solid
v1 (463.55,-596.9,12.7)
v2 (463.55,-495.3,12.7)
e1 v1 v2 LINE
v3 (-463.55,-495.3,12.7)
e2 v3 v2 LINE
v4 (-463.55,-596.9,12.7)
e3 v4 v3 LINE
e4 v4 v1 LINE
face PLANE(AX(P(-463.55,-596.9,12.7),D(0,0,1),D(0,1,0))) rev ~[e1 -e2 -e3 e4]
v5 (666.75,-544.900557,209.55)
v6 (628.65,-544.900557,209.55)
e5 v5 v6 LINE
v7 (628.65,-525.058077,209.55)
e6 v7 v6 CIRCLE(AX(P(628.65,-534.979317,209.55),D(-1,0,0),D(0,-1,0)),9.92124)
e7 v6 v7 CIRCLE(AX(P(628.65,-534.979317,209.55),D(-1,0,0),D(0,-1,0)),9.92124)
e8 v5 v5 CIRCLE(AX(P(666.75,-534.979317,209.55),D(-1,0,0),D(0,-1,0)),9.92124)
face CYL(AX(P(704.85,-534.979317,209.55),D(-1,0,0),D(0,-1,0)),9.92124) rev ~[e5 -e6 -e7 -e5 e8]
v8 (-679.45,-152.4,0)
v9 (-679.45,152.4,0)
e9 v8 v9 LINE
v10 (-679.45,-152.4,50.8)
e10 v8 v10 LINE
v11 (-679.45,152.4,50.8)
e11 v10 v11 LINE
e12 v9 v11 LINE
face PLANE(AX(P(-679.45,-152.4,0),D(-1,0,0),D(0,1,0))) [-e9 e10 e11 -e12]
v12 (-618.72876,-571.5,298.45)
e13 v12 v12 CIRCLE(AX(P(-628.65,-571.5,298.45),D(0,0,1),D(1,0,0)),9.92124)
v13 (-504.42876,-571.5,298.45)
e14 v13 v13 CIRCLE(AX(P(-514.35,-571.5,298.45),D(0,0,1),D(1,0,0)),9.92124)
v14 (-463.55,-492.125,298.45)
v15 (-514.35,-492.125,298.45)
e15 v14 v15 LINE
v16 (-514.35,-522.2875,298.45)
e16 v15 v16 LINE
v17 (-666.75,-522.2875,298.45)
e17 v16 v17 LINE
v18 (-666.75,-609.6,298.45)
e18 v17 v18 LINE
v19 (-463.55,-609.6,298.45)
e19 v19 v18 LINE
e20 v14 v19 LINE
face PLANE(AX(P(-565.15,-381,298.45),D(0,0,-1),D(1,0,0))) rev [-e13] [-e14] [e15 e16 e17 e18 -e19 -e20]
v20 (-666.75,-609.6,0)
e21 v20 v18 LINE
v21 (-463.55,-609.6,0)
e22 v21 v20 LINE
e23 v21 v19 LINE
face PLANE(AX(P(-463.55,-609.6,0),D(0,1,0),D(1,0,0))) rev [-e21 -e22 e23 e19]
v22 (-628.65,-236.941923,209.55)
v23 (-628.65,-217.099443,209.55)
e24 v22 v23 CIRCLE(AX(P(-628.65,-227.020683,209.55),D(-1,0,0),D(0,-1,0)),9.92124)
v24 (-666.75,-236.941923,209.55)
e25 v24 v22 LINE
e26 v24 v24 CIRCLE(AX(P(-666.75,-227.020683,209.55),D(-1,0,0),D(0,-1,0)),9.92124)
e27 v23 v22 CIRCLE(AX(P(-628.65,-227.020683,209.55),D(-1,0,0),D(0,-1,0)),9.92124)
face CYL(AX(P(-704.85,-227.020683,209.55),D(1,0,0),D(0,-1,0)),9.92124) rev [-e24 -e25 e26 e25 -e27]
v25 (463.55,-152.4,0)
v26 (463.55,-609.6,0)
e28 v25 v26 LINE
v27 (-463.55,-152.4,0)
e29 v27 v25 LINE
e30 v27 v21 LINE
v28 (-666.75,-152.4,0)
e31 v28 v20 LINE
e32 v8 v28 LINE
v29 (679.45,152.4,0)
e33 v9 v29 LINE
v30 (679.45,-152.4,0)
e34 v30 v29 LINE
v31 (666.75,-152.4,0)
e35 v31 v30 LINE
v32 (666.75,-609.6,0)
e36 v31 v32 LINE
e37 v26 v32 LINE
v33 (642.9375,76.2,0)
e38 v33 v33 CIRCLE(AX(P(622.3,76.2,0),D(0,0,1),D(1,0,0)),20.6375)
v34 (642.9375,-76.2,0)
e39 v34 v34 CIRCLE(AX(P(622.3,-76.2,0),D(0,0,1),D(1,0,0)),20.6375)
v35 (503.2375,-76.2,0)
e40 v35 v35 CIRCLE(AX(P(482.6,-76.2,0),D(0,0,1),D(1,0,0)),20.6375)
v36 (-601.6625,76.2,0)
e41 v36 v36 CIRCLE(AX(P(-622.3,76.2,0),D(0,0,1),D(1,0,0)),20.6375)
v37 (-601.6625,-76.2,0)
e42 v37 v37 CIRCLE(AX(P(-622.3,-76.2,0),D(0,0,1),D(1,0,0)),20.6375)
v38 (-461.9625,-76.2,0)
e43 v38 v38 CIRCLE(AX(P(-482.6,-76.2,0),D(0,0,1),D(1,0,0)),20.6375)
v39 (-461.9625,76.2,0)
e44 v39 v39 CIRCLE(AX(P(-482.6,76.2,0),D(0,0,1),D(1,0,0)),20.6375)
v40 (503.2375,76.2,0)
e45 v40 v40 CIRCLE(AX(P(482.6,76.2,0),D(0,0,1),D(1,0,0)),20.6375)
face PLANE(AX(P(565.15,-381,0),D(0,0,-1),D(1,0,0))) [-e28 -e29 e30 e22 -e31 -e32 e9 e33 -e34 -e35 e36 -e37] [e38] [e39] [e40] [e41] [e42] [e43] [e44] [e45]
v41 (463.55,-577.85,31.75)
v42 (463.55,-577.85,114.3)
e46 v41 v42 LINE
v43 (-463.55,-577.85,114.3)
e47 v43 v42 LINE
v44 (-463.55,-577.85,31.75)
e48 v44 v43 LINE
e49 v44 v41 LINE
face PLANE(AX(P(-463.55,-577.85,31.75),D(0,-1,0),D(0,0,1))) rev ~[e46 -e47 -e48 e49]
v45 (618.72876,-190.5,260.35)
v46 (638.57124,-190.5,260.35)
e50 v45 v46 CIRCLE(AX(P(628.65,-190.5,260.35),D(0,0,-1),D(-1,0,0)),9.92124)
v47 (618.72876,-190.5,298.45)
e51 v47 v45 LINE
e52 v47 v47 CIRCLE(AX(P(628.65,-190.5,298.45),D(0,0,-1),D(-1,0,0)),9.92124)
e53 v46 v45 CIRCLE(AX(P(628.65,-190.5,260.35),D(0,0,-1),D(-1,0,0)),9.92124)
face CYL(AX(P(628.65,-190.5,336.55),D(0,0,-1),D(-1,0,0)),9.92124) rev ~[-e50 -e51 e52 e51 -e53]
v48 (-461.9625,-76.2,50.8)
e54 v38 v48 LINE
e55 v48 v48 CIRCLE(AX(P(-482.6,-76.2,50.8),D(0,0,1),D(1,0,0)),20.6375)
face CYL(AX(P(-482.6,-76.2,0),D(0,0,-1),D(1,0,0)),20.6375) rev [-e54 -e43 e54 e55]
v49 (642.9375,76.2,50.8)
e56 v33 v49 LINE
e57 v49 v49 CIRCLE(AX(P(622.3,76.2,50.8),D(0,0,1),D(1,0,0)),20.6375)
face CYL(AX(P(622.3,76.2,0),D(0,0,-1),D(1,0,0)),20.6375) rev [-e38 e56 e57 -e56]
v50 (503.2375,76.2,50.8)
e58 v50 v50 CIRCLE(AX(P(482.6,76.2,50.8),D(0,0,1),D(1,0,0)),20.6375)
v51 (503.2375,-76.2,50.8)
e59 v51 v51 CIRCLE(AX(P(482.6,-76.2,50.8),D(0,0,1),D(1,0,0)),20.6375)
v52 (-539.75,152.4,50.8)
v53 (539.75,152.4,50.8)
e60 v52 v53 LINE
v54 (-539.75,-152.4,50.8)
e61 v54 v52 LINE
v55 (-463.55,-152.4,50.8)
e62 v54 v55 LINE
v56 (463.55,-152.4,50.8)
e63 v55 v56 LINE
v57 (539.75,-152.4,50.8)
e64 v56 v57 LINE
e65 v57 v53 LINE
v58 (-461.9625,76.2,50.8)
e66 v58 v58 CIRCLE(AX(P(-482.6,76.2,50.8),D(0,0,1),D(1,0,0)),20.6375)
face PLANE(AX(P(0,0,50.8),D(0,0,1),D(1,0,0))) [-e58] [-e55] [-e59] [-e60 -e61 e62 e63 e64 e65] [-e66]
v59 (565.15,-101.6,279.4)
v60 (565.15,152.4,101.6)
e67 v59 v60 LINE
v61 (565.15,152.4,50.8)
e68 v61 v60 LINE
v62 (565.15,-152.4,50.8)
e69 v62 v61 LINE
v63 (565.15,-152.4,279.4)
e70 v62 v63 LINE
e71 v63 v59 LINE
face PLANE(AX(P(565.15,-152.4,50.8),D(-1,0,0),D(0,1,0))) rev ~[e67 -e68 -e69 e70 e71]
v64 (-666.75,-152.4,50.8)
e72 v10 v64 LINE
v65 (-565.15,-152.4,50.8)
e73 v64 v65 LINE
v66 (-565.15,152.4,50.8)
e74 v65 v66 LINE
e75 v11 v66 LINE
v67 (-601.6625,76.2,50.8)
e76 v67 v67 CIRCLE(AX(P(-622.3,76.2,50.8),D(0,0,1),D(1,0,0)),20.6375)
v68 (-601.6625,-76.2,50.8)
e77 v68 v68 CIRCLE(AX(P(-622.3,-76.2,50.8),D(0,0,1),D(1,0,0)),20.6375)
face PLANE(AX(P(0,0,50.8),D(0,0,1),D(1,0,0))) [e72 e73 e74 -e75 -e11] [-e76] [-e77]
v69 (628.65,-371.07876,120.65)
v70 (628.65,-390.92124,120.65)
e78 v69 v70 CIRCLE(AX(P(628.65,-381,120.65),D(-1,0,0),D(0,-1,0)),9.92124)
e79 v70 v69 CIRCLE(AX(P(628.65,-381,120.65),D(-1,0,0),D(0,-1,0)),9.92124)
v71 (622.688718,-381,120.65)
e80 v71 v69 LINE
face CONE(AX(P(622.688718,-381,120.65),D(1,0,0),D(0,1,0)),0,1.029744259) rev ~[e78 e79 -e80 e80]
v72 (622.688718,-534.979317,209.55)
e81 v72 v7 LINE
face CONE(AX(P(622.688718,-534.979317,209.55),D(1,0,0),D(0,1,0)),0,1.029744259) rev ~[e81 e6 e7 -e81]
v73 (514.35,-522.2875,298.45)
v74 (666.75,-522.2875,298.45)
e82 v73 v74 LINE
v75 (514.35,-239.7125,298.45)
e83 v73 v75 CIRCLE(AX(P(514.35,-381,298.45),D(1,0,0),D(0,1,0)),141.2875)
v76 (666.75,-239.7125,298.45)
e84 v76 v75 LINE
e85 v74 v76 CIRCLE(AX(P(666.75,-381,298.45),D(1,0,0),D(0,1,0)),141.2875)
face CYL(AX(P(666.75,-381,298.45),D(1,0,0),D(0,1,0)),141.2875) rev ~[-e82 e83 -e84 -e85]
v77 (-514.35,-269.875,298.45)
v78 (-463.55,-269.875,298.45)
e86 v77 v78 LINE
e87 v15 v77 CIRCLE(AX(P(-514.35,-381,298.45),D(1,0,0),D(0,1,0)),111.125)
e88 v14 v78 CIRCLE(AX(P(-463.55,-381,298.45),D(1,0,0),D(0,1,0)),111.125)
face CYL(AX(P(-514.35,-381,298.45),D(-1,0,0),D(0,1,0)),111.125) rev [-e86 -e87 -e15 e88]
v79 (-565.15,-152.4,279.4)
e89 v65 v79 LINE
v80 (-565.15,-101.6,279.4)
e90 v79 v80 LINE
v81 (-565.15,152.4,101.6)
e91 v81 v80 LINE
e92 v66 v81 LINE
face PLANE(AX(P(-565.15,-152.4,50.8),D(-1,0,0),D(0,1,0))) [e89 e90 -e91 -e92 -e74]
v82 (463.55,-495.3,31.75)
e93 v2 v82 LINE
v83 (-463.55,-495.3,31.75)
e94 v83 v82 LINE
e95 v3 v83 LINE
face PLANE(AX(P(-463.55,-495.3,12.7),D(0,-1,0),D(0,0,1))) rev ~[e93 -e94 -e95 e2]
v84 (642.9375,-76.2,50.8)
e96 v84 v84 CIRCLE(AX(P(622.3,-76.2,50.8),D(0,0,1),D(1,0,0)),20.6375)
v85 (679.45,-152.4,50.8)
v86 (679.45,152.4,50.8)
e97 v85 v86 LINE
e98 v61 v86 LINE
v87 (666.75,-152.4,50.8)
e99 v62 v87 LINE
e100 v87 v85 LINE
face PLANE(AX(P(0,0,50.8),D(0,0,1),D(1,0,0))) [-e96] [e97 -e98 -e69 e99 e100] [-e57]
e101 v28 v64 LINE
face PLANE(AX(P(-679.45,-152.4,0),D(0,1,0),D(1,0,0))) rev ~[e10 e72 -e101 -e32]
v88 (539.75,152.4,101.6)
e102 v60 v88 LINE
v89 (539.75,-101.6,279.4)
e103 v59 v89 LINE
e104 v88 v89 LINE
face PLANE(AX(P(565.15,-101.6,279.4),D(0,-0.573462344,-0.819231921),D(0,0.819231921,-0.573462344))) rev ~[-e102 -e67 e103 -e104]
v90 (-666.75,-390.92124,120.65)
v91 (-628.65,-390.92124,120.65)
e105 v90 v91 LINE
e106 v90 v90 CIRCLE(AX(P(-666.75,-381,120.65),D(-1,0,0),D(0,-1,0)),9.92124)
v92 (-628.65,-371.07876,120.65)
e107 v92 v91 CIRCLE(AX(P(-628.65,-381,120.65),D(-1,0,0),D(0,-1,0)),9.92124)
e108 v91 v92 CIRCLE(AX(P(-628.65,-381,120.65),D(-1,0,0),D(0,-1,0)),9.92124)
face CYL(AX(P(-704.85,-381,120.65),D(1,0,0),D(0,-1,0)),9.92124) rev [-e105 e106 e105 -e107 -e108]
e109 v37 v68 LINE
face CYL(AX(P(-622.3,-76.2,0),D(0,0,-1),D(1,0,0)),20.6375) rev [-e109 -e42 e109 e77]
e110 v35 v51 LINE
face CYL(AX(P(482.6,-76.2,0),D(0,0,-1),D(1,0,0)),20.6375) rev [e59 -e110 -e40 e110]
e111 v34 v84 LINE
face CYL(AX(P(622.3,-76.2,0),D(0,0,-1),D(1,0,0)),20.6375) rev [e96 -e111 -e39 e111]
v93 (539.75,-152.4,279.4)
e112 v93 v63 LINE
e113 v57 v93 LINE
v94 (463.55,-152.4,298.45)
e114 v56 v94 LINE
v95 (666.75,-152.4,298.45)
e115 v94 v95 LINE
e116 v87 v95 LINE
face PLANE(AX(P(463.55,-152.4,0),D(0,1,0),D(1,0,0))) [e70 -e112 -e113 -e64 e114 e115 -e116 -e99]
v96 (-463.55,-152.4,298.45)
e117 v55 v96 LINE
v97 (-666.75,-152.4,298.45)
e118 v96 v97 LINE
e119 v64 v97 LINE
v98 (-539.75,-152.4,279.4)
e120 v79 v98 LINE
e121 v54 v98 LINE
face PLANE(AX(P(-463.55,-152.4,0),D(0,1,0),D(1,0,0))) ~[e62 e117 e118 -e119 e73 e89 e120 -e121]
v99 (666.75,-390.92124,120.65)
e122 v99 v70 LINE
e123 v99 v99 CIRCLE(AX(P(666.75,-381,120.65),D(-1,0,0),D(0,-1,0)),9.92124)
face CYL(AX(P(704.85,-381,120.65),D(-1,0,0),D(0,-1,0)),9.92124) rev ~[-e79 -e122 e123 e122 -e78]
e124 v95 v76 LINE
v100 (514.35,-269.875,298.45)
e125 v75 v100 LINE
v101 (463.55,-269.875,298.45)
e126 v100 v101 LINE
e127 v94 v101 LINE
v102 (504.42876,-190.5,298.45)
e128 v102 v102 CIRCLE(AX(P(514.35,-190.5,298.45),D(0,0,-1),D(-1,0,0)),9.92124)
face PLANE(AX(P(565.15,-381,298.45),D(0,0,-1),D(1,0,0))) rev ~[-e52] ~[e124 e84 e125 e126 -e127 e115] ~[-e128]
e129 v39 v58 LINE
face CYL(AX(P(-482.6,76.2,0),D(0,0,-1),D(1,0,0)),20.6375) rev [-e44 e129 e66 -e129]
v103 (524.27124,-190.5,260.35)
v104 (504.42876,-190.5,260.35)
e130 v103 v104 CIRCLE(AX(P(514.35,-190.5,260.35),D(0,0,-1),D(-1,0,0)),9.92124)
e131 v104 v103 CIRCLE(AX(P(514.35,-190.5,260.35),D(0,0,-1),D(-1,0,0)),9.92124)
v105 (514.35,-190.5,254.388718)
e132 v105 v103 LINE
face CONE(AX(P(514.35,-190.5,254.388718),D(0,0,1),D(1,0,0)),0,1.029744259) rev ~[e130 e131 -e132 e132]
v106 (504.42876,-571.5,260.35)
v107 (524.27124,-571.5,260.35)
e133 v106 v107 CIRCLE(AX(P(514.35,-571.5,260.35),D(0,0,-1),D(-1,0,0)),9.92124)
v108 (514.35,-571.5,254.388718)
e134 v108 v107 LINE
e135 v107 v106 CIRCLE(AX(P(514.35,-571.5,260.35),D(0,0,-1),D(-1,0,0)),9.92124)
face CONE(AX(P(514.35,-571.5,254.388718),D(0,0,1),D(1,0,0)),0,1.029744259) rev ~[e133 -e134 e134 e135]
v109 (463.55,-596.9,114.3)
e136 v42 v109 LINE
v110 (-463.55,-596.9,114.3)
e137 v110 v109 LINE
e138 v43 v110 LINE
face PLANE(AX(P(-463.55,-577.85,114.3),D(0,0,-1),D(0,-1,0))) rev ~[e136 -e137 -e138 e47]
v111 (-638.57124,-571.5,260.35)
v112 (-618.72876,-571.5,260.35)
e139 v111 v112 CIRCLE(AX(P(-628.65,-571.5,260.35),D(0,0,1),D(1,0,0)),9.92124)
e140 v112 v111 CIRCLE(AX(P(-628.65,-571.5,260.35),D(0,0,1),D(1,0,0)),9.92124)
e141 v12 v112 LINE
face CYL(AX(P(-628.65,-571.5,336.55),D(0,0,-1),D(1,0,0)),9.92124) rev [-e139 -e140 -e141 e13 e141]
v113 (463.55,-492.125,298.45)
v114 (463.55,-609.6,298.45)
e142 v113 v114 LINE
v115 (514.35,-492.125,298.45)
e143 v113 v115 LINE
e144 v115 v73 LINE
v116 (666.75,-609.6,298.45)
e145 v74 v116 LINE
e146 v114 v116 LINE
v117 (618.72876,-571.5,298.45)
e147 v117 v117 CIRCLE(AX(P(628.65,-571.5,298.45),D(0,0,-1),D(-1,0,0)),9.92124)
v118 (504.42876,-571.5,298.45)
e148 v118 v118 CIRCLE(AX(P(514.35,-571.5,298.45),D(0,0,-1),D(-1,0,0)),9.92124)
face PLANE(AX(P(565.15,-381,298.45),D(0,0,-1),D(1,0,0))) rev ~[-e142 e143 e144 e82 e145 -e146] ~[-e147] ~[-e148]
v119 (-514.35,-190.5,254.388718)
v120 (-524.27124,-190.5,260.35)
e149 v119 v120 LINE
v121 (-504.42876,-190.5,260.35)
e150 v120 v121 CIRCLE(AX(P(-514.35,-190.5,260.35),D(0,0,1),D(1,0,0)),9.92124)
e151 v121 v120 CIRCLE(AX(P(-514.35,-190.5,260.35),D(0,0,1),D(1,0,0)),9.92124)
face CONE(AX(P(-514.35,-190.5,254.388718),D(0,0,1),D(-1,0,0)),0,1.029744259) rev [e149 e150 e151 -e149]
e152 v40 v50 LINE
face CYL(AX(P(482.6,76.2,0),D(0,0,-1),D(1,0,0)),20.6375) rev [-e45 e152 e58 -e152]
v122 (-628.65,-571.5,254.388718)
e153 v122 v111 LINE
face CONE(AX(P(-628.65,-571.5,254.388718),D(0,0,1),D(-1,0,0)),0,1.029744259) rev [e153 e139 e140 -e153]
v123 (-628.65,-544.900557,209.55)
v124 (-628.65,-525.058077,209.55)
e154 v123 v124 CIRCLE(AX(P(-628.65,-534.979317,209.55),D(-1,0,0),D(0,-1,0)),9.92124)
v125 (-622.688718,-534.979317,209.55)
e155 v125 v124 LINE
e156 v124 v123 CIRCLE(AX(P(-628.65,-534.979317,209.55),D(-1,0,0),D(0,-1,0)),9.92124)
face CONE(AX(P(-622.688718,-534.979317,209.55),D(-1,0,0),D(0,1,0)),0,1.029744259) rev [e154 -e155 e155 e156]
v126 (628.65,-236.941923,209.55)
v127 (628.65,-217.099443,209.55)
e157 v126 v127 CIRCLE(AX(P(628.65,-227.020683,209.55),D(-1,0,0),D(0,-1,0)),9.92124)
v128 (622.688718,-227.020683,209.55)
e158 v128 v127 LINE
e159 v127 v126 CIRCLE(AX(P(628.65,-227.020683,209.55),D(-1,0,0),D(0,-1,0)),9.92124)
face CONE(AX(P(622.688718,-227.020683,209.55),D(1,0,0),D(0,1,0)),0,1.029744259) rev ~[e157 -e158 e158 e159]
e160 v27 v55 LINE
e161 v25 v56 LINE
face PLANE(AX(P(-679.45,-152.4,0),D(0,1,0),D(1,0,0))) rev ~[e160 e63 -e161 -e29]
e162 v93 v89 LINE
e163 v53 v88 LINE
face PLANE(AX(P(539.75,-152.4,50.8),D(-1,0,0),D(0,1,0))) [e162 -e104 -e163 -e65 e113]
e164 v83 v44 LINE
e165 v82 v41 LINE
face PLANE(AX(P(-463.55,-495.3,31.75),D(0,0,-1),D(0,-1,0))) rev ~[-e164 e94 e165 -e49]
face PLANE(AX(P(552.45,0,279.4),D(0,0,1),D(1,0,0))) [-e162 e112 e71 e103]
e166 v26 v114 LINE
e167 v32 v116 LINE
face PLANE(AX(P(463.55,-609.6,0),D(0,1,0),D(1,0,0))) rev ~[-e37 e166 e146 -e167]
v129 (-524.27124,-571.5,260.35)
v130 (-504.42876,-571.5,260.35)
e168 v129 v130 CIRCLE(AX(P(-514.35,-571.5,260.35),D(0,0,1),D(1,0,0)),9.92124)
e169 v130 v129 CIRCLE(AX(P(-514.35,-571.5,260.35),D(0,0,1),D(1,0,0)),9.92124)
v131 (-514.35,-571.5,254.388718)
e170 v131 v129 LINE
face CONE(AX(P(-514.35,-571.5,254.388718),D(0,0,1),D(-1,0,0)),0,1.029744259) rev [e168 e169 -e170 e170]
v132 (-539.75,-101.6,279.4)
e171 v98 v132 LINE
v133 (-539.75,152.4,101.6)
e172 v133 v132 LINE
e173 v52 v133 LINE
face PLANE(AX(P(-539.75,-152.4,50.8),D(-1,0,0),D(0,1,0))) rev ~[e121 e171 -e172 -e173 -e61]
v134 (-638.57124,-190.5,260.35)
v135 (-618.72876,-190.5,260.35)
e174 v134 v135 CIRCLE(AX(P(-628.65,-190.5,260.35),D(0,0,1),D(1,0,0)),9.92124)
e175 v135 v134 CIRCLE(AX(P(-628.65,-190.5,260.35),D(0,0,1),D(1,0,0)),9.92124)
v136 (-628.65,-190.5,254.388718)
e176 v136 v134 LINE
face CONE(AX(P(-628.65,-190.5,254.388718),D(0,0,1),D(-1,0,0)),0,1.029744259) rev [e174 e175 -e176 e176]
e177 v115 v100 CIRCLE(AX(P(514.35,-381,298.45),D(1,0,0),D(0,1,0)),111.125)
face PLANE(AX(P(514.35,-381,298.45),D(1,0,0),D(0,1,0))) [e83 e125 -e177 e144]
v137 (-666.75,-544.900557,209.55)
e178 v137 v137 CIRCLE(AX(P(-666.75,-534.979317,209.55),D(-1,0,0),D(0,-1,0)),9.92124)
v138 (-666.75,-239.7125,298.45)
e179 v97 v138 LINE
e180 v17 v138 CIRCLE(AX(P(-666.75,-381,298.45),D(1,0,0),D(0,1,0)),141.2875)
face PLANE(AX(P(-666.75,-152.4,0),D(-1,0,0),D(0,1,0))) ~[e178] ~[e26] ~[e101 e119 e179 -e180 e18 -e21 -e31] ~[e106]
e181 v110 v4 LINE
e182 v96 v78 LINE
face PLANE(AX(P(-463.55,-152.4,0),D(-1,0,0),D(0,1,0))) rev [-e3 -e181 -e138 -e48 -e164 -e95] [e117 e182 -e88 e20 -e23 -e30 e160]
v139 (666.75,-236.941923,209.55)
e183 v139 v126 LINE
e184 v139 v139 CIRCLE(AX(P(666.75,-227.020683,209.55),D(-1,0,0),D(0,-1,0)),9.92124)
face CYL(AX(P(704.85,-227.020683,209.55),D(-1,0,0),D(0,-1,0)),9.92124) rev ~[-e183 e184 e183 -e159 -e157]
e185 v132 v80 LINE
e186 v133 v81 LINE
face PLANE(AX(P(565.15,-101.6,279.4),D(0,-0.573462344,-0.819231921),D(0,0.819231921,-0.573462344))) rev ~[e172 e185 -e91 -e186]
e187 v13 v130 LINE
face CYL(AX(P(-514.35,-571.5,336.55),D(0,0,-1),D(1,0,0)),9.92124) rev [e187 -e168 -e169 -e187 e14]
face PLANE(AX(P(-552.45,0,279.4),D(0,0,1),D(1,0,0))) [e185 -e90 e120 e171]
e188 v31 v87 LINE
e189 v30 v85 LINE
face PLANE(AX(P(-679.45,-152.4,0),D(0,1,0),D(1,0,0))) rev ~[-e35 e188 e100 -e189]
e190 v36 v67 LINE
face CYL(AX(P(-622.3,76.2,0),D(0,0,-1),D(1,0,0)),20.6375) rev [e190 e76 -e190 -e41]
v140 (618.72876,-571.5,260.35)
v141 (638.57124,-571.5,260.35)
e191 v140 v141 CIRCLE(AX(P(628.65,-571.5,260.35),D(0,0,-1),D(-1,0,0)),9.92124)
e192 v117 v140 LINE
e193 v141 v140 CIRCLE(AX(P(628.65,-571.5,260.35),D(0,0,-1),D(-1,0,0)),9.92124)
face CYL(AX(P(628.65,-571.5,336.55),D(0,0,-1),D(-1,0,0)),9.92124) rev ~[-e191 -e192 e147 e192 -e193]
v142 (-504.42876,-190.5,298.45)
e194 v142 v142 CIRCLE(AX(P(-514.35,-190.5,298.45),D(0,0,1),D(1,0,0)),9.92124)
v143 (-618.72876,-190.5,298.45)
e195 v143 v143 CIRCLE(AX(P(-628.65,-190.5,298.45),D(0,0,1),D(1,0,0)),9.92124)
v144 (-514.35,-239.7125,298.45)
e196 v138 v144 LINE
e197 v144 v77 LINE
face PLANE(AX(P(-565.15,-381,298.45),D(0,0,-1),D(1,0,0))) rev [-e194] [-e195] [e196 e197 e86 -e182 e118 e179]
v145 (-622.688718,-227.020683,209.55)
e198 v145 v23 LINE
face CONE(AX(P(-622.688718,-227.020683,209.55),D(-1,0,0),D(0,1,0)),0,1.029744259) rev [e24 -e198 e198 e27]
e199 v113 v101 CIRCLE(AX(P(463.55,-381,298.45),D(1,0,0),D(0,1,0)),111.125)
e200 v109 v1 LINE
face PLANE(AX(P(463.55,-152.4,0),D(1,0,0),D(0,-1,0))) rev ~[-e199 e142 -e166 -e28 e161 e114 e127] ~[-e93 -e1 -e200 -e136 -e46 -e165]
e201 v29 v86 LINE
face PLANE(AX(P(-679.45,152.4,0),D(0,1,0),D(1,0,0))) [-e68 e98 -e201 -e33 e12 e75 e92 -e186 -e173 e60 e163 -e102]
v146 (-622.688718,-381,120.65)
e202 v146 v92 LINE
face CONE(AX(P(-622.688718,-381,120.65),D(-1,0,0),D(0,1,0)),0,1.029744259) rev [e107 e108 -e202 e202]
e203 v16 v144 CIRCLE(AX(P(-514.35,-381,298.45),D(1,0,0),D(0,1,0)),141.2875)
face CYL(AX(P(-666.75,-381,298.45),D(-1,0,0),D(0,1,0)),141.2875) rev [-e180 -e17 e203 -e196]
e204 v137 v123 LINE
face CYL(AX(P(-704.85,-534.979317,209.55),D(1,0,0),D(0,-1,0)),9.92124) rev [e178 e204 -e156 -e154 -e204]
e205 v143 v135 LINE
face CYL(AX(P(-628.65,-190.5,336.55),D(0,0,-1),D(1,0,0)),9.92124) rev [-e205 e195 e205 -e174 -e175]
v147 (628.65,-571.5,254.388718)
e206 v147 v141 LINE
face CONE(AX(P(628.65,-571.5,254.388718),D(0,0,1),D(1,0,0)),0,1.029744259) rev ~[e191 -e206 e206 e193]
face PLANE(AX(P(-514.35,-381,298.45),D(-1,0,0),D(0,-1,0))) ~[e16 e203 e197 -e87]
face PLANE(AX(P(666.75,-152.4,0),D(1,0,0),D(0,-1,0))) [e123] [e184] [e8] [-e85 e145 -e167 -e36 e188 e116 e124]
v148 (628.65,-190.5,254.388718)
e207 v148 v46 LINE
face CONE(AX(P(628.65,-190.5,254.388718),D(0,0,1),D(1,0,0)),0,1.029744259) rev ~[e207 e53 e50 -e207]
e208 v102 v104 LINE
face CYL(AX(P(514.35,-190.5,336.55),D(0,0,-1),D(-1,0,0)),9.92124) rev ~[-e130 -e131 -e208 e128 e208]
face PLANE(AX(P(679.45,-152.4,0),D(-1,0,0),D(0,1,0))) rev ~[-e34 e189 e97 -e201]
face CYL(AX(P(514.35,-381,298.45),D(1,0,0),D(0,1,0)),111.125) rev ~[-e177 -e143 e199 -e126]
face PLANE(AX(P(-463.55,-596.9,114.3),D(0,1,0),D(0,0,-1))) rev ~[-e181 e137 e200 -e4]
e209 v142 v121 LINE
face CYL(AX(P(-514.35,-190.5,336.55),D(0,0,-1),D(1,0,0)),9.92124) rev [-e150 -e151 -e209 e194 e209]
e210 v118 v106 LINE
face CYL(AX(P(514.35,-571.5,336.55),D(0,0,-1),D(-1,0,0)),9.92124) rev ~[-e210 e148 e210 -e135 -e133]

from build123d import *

# Parameters (mm, degrees)
F0_W      = 1358.9
F0_H      = 304.8
F0_R      = 20.6375
F1_DEPTH  = 50.8
F2_W      = 25.4
F2_H      = 304.8
F3_DEPTH  = 228.6
F5_DEPTH  = 1244.601
F6_W      = 203.2
F6_H      = 457.2
F7_DEPTH  = 298.45
F8_R      = 141.2875
F9_DEPTH  = 152.4
F10_R     = 111.125
F11_DEPTH = 1193.801
F13_D     = 19.84248
F13_DEPTH = 38.1
F13_TIP   = 5.9612824079
F15_D     = 19.84248
F15_DEPTH = 38.1
F15_TIP   = 5.9612824079
F18_DEPTH = 927.1


with BuildPart() as f1:
    # F0 (on Top) → F1 (new body)
    with BuildSketch(Plane.XY):
        Rectangle(F0_W, F0_H)
        with Locations((-622.3, -76.2)):
            Circle(F0_R, mode=Mode.SUBTRACT)
        with Locations((-482.6, -76.2)):
            Circle(F0_R, mode=Mode.SUBTRACT)
        with Locations((482.6, -76.2)):
            Circle(F0_R, mode=Mode.SUBTRACT)
        with Locations((622.3, -76.2)):
            Circle(F0_R, mode=Mode.SUBTRACT)
        with Locations((-622.3, 76.2)):
            Circle(F0_R, mode=Mode.SUBTRACT)
        with Locations((-482.6, 76.2)):
            Circle(F0_R, mode=Mode.SUBTRACT)
        with Locations((482.6, 76.2)):
            Circle(F0_R, mode=Mode.SUBTRACT)
        with Locations((622.3, 76.2)):
            Circle(F0_R, mode=Mode.SUBTRACT)
    extrude(amount=F1_DEPTH)

    # F2 (on face) → F3 (join)
    with BuildSketch(Plane.XY.offset(50.8)):
        with Locations((-552.45, 0)):
            Rectangle(F2_W, F2_H)
        with Locations((552.45, 0)):
            Rectangle(F2_W, F2_H)
    extrude(amount=F3_DEPTH)

    # F4 (on face) → F5 (cut, through all)
    with BuildSketch(Plane.YZ.offset(565.15)):
        Polygon((152.4, 279.4), (-101.6, 279.4), (152.4, 101.6), align=None)
    extrude(amount=-F5_DEPTH, mode=Mode.SUBTRACT)

    # F16: F7 across plane


with BuildPart() as f7:
    # F6 (on face) → F7 (new body)
    with BuildSketch(Plane(origin=(0, 0, 0), x_dir=(1, 0, 0), z_dir=(0, 0, -1))):
        with Locations((565.15, 381)):
            Rectangle(F6_W, F6_H)
    extrude(amount=-F7_DEPTH)

    # F8 (on face) → F9 (cut)
    with BuildSketch(Plane.YZ.offset(666.75)):
        with Locations((-381, 298.45)):
            Circle(F8_R)
    extrude(amount=-F9_DEPTH, mode=Mode.SUBTRACT)

    # F10 (on face) → F11 (cut, through all)
    with BuildSketch(Plane.YZ.offset(514.35)):
        with Locations((-381, 298.45)):
            Circle(F10_R)
    extrude(amount=-F11_DEPTH, mode=Mode.SUBTRACT)

    # F13
    with Locations(Plane.YZ.offset(666.75)):
        with Locations((-534.9793167929, 209.55), (-381, 120.65), (-227.0206832071, 209.55)):
            Hole(F13_D / 2, depth=F13_DEPTH)
            with Locations((0, 0, -(F13_DEPTH + F13_TIP / 2))):  # 118° drill point
                Cone(0, F13_D / 2, F13_TIP, mode=Mode.SUBTRACT)

    # F15
    with Locations(Plane.XY.offset(298.45)):
        with Locations((514.35, -571.5), (628.65, -571.5), (514.35, -190.5), (628.65, -190.5)):
            Hole(F15_D / 2, depth=F15_DEPTH)
            with Locations((0, 0, -(F15_DEPTH + F15_TIP / 2))):  # 118° drill point
                Cone(0, F15_D / 2, F15_TIP, mode=Mode.SUBTRACT)


with BuildPart() as f1_1:
    add(f1.part)
    add(f7.part.mirror(Plane.YZ))


    add(f7.part)  # F18 merges F7
    # F17 (on face) → F18 (join, through all)
    with BuildSketch(Plane.YZ.offset(-463.55)):
        Polygon((-596.9, 12.7), (-495.3, 12.7), (-495.3, 31.75), (-577.85, 31.75), (-577.85, 114.3), (-596.9, 114.3), align=None)
    extrude(amount=F18_DEPTH)


solid = f1_1.part
